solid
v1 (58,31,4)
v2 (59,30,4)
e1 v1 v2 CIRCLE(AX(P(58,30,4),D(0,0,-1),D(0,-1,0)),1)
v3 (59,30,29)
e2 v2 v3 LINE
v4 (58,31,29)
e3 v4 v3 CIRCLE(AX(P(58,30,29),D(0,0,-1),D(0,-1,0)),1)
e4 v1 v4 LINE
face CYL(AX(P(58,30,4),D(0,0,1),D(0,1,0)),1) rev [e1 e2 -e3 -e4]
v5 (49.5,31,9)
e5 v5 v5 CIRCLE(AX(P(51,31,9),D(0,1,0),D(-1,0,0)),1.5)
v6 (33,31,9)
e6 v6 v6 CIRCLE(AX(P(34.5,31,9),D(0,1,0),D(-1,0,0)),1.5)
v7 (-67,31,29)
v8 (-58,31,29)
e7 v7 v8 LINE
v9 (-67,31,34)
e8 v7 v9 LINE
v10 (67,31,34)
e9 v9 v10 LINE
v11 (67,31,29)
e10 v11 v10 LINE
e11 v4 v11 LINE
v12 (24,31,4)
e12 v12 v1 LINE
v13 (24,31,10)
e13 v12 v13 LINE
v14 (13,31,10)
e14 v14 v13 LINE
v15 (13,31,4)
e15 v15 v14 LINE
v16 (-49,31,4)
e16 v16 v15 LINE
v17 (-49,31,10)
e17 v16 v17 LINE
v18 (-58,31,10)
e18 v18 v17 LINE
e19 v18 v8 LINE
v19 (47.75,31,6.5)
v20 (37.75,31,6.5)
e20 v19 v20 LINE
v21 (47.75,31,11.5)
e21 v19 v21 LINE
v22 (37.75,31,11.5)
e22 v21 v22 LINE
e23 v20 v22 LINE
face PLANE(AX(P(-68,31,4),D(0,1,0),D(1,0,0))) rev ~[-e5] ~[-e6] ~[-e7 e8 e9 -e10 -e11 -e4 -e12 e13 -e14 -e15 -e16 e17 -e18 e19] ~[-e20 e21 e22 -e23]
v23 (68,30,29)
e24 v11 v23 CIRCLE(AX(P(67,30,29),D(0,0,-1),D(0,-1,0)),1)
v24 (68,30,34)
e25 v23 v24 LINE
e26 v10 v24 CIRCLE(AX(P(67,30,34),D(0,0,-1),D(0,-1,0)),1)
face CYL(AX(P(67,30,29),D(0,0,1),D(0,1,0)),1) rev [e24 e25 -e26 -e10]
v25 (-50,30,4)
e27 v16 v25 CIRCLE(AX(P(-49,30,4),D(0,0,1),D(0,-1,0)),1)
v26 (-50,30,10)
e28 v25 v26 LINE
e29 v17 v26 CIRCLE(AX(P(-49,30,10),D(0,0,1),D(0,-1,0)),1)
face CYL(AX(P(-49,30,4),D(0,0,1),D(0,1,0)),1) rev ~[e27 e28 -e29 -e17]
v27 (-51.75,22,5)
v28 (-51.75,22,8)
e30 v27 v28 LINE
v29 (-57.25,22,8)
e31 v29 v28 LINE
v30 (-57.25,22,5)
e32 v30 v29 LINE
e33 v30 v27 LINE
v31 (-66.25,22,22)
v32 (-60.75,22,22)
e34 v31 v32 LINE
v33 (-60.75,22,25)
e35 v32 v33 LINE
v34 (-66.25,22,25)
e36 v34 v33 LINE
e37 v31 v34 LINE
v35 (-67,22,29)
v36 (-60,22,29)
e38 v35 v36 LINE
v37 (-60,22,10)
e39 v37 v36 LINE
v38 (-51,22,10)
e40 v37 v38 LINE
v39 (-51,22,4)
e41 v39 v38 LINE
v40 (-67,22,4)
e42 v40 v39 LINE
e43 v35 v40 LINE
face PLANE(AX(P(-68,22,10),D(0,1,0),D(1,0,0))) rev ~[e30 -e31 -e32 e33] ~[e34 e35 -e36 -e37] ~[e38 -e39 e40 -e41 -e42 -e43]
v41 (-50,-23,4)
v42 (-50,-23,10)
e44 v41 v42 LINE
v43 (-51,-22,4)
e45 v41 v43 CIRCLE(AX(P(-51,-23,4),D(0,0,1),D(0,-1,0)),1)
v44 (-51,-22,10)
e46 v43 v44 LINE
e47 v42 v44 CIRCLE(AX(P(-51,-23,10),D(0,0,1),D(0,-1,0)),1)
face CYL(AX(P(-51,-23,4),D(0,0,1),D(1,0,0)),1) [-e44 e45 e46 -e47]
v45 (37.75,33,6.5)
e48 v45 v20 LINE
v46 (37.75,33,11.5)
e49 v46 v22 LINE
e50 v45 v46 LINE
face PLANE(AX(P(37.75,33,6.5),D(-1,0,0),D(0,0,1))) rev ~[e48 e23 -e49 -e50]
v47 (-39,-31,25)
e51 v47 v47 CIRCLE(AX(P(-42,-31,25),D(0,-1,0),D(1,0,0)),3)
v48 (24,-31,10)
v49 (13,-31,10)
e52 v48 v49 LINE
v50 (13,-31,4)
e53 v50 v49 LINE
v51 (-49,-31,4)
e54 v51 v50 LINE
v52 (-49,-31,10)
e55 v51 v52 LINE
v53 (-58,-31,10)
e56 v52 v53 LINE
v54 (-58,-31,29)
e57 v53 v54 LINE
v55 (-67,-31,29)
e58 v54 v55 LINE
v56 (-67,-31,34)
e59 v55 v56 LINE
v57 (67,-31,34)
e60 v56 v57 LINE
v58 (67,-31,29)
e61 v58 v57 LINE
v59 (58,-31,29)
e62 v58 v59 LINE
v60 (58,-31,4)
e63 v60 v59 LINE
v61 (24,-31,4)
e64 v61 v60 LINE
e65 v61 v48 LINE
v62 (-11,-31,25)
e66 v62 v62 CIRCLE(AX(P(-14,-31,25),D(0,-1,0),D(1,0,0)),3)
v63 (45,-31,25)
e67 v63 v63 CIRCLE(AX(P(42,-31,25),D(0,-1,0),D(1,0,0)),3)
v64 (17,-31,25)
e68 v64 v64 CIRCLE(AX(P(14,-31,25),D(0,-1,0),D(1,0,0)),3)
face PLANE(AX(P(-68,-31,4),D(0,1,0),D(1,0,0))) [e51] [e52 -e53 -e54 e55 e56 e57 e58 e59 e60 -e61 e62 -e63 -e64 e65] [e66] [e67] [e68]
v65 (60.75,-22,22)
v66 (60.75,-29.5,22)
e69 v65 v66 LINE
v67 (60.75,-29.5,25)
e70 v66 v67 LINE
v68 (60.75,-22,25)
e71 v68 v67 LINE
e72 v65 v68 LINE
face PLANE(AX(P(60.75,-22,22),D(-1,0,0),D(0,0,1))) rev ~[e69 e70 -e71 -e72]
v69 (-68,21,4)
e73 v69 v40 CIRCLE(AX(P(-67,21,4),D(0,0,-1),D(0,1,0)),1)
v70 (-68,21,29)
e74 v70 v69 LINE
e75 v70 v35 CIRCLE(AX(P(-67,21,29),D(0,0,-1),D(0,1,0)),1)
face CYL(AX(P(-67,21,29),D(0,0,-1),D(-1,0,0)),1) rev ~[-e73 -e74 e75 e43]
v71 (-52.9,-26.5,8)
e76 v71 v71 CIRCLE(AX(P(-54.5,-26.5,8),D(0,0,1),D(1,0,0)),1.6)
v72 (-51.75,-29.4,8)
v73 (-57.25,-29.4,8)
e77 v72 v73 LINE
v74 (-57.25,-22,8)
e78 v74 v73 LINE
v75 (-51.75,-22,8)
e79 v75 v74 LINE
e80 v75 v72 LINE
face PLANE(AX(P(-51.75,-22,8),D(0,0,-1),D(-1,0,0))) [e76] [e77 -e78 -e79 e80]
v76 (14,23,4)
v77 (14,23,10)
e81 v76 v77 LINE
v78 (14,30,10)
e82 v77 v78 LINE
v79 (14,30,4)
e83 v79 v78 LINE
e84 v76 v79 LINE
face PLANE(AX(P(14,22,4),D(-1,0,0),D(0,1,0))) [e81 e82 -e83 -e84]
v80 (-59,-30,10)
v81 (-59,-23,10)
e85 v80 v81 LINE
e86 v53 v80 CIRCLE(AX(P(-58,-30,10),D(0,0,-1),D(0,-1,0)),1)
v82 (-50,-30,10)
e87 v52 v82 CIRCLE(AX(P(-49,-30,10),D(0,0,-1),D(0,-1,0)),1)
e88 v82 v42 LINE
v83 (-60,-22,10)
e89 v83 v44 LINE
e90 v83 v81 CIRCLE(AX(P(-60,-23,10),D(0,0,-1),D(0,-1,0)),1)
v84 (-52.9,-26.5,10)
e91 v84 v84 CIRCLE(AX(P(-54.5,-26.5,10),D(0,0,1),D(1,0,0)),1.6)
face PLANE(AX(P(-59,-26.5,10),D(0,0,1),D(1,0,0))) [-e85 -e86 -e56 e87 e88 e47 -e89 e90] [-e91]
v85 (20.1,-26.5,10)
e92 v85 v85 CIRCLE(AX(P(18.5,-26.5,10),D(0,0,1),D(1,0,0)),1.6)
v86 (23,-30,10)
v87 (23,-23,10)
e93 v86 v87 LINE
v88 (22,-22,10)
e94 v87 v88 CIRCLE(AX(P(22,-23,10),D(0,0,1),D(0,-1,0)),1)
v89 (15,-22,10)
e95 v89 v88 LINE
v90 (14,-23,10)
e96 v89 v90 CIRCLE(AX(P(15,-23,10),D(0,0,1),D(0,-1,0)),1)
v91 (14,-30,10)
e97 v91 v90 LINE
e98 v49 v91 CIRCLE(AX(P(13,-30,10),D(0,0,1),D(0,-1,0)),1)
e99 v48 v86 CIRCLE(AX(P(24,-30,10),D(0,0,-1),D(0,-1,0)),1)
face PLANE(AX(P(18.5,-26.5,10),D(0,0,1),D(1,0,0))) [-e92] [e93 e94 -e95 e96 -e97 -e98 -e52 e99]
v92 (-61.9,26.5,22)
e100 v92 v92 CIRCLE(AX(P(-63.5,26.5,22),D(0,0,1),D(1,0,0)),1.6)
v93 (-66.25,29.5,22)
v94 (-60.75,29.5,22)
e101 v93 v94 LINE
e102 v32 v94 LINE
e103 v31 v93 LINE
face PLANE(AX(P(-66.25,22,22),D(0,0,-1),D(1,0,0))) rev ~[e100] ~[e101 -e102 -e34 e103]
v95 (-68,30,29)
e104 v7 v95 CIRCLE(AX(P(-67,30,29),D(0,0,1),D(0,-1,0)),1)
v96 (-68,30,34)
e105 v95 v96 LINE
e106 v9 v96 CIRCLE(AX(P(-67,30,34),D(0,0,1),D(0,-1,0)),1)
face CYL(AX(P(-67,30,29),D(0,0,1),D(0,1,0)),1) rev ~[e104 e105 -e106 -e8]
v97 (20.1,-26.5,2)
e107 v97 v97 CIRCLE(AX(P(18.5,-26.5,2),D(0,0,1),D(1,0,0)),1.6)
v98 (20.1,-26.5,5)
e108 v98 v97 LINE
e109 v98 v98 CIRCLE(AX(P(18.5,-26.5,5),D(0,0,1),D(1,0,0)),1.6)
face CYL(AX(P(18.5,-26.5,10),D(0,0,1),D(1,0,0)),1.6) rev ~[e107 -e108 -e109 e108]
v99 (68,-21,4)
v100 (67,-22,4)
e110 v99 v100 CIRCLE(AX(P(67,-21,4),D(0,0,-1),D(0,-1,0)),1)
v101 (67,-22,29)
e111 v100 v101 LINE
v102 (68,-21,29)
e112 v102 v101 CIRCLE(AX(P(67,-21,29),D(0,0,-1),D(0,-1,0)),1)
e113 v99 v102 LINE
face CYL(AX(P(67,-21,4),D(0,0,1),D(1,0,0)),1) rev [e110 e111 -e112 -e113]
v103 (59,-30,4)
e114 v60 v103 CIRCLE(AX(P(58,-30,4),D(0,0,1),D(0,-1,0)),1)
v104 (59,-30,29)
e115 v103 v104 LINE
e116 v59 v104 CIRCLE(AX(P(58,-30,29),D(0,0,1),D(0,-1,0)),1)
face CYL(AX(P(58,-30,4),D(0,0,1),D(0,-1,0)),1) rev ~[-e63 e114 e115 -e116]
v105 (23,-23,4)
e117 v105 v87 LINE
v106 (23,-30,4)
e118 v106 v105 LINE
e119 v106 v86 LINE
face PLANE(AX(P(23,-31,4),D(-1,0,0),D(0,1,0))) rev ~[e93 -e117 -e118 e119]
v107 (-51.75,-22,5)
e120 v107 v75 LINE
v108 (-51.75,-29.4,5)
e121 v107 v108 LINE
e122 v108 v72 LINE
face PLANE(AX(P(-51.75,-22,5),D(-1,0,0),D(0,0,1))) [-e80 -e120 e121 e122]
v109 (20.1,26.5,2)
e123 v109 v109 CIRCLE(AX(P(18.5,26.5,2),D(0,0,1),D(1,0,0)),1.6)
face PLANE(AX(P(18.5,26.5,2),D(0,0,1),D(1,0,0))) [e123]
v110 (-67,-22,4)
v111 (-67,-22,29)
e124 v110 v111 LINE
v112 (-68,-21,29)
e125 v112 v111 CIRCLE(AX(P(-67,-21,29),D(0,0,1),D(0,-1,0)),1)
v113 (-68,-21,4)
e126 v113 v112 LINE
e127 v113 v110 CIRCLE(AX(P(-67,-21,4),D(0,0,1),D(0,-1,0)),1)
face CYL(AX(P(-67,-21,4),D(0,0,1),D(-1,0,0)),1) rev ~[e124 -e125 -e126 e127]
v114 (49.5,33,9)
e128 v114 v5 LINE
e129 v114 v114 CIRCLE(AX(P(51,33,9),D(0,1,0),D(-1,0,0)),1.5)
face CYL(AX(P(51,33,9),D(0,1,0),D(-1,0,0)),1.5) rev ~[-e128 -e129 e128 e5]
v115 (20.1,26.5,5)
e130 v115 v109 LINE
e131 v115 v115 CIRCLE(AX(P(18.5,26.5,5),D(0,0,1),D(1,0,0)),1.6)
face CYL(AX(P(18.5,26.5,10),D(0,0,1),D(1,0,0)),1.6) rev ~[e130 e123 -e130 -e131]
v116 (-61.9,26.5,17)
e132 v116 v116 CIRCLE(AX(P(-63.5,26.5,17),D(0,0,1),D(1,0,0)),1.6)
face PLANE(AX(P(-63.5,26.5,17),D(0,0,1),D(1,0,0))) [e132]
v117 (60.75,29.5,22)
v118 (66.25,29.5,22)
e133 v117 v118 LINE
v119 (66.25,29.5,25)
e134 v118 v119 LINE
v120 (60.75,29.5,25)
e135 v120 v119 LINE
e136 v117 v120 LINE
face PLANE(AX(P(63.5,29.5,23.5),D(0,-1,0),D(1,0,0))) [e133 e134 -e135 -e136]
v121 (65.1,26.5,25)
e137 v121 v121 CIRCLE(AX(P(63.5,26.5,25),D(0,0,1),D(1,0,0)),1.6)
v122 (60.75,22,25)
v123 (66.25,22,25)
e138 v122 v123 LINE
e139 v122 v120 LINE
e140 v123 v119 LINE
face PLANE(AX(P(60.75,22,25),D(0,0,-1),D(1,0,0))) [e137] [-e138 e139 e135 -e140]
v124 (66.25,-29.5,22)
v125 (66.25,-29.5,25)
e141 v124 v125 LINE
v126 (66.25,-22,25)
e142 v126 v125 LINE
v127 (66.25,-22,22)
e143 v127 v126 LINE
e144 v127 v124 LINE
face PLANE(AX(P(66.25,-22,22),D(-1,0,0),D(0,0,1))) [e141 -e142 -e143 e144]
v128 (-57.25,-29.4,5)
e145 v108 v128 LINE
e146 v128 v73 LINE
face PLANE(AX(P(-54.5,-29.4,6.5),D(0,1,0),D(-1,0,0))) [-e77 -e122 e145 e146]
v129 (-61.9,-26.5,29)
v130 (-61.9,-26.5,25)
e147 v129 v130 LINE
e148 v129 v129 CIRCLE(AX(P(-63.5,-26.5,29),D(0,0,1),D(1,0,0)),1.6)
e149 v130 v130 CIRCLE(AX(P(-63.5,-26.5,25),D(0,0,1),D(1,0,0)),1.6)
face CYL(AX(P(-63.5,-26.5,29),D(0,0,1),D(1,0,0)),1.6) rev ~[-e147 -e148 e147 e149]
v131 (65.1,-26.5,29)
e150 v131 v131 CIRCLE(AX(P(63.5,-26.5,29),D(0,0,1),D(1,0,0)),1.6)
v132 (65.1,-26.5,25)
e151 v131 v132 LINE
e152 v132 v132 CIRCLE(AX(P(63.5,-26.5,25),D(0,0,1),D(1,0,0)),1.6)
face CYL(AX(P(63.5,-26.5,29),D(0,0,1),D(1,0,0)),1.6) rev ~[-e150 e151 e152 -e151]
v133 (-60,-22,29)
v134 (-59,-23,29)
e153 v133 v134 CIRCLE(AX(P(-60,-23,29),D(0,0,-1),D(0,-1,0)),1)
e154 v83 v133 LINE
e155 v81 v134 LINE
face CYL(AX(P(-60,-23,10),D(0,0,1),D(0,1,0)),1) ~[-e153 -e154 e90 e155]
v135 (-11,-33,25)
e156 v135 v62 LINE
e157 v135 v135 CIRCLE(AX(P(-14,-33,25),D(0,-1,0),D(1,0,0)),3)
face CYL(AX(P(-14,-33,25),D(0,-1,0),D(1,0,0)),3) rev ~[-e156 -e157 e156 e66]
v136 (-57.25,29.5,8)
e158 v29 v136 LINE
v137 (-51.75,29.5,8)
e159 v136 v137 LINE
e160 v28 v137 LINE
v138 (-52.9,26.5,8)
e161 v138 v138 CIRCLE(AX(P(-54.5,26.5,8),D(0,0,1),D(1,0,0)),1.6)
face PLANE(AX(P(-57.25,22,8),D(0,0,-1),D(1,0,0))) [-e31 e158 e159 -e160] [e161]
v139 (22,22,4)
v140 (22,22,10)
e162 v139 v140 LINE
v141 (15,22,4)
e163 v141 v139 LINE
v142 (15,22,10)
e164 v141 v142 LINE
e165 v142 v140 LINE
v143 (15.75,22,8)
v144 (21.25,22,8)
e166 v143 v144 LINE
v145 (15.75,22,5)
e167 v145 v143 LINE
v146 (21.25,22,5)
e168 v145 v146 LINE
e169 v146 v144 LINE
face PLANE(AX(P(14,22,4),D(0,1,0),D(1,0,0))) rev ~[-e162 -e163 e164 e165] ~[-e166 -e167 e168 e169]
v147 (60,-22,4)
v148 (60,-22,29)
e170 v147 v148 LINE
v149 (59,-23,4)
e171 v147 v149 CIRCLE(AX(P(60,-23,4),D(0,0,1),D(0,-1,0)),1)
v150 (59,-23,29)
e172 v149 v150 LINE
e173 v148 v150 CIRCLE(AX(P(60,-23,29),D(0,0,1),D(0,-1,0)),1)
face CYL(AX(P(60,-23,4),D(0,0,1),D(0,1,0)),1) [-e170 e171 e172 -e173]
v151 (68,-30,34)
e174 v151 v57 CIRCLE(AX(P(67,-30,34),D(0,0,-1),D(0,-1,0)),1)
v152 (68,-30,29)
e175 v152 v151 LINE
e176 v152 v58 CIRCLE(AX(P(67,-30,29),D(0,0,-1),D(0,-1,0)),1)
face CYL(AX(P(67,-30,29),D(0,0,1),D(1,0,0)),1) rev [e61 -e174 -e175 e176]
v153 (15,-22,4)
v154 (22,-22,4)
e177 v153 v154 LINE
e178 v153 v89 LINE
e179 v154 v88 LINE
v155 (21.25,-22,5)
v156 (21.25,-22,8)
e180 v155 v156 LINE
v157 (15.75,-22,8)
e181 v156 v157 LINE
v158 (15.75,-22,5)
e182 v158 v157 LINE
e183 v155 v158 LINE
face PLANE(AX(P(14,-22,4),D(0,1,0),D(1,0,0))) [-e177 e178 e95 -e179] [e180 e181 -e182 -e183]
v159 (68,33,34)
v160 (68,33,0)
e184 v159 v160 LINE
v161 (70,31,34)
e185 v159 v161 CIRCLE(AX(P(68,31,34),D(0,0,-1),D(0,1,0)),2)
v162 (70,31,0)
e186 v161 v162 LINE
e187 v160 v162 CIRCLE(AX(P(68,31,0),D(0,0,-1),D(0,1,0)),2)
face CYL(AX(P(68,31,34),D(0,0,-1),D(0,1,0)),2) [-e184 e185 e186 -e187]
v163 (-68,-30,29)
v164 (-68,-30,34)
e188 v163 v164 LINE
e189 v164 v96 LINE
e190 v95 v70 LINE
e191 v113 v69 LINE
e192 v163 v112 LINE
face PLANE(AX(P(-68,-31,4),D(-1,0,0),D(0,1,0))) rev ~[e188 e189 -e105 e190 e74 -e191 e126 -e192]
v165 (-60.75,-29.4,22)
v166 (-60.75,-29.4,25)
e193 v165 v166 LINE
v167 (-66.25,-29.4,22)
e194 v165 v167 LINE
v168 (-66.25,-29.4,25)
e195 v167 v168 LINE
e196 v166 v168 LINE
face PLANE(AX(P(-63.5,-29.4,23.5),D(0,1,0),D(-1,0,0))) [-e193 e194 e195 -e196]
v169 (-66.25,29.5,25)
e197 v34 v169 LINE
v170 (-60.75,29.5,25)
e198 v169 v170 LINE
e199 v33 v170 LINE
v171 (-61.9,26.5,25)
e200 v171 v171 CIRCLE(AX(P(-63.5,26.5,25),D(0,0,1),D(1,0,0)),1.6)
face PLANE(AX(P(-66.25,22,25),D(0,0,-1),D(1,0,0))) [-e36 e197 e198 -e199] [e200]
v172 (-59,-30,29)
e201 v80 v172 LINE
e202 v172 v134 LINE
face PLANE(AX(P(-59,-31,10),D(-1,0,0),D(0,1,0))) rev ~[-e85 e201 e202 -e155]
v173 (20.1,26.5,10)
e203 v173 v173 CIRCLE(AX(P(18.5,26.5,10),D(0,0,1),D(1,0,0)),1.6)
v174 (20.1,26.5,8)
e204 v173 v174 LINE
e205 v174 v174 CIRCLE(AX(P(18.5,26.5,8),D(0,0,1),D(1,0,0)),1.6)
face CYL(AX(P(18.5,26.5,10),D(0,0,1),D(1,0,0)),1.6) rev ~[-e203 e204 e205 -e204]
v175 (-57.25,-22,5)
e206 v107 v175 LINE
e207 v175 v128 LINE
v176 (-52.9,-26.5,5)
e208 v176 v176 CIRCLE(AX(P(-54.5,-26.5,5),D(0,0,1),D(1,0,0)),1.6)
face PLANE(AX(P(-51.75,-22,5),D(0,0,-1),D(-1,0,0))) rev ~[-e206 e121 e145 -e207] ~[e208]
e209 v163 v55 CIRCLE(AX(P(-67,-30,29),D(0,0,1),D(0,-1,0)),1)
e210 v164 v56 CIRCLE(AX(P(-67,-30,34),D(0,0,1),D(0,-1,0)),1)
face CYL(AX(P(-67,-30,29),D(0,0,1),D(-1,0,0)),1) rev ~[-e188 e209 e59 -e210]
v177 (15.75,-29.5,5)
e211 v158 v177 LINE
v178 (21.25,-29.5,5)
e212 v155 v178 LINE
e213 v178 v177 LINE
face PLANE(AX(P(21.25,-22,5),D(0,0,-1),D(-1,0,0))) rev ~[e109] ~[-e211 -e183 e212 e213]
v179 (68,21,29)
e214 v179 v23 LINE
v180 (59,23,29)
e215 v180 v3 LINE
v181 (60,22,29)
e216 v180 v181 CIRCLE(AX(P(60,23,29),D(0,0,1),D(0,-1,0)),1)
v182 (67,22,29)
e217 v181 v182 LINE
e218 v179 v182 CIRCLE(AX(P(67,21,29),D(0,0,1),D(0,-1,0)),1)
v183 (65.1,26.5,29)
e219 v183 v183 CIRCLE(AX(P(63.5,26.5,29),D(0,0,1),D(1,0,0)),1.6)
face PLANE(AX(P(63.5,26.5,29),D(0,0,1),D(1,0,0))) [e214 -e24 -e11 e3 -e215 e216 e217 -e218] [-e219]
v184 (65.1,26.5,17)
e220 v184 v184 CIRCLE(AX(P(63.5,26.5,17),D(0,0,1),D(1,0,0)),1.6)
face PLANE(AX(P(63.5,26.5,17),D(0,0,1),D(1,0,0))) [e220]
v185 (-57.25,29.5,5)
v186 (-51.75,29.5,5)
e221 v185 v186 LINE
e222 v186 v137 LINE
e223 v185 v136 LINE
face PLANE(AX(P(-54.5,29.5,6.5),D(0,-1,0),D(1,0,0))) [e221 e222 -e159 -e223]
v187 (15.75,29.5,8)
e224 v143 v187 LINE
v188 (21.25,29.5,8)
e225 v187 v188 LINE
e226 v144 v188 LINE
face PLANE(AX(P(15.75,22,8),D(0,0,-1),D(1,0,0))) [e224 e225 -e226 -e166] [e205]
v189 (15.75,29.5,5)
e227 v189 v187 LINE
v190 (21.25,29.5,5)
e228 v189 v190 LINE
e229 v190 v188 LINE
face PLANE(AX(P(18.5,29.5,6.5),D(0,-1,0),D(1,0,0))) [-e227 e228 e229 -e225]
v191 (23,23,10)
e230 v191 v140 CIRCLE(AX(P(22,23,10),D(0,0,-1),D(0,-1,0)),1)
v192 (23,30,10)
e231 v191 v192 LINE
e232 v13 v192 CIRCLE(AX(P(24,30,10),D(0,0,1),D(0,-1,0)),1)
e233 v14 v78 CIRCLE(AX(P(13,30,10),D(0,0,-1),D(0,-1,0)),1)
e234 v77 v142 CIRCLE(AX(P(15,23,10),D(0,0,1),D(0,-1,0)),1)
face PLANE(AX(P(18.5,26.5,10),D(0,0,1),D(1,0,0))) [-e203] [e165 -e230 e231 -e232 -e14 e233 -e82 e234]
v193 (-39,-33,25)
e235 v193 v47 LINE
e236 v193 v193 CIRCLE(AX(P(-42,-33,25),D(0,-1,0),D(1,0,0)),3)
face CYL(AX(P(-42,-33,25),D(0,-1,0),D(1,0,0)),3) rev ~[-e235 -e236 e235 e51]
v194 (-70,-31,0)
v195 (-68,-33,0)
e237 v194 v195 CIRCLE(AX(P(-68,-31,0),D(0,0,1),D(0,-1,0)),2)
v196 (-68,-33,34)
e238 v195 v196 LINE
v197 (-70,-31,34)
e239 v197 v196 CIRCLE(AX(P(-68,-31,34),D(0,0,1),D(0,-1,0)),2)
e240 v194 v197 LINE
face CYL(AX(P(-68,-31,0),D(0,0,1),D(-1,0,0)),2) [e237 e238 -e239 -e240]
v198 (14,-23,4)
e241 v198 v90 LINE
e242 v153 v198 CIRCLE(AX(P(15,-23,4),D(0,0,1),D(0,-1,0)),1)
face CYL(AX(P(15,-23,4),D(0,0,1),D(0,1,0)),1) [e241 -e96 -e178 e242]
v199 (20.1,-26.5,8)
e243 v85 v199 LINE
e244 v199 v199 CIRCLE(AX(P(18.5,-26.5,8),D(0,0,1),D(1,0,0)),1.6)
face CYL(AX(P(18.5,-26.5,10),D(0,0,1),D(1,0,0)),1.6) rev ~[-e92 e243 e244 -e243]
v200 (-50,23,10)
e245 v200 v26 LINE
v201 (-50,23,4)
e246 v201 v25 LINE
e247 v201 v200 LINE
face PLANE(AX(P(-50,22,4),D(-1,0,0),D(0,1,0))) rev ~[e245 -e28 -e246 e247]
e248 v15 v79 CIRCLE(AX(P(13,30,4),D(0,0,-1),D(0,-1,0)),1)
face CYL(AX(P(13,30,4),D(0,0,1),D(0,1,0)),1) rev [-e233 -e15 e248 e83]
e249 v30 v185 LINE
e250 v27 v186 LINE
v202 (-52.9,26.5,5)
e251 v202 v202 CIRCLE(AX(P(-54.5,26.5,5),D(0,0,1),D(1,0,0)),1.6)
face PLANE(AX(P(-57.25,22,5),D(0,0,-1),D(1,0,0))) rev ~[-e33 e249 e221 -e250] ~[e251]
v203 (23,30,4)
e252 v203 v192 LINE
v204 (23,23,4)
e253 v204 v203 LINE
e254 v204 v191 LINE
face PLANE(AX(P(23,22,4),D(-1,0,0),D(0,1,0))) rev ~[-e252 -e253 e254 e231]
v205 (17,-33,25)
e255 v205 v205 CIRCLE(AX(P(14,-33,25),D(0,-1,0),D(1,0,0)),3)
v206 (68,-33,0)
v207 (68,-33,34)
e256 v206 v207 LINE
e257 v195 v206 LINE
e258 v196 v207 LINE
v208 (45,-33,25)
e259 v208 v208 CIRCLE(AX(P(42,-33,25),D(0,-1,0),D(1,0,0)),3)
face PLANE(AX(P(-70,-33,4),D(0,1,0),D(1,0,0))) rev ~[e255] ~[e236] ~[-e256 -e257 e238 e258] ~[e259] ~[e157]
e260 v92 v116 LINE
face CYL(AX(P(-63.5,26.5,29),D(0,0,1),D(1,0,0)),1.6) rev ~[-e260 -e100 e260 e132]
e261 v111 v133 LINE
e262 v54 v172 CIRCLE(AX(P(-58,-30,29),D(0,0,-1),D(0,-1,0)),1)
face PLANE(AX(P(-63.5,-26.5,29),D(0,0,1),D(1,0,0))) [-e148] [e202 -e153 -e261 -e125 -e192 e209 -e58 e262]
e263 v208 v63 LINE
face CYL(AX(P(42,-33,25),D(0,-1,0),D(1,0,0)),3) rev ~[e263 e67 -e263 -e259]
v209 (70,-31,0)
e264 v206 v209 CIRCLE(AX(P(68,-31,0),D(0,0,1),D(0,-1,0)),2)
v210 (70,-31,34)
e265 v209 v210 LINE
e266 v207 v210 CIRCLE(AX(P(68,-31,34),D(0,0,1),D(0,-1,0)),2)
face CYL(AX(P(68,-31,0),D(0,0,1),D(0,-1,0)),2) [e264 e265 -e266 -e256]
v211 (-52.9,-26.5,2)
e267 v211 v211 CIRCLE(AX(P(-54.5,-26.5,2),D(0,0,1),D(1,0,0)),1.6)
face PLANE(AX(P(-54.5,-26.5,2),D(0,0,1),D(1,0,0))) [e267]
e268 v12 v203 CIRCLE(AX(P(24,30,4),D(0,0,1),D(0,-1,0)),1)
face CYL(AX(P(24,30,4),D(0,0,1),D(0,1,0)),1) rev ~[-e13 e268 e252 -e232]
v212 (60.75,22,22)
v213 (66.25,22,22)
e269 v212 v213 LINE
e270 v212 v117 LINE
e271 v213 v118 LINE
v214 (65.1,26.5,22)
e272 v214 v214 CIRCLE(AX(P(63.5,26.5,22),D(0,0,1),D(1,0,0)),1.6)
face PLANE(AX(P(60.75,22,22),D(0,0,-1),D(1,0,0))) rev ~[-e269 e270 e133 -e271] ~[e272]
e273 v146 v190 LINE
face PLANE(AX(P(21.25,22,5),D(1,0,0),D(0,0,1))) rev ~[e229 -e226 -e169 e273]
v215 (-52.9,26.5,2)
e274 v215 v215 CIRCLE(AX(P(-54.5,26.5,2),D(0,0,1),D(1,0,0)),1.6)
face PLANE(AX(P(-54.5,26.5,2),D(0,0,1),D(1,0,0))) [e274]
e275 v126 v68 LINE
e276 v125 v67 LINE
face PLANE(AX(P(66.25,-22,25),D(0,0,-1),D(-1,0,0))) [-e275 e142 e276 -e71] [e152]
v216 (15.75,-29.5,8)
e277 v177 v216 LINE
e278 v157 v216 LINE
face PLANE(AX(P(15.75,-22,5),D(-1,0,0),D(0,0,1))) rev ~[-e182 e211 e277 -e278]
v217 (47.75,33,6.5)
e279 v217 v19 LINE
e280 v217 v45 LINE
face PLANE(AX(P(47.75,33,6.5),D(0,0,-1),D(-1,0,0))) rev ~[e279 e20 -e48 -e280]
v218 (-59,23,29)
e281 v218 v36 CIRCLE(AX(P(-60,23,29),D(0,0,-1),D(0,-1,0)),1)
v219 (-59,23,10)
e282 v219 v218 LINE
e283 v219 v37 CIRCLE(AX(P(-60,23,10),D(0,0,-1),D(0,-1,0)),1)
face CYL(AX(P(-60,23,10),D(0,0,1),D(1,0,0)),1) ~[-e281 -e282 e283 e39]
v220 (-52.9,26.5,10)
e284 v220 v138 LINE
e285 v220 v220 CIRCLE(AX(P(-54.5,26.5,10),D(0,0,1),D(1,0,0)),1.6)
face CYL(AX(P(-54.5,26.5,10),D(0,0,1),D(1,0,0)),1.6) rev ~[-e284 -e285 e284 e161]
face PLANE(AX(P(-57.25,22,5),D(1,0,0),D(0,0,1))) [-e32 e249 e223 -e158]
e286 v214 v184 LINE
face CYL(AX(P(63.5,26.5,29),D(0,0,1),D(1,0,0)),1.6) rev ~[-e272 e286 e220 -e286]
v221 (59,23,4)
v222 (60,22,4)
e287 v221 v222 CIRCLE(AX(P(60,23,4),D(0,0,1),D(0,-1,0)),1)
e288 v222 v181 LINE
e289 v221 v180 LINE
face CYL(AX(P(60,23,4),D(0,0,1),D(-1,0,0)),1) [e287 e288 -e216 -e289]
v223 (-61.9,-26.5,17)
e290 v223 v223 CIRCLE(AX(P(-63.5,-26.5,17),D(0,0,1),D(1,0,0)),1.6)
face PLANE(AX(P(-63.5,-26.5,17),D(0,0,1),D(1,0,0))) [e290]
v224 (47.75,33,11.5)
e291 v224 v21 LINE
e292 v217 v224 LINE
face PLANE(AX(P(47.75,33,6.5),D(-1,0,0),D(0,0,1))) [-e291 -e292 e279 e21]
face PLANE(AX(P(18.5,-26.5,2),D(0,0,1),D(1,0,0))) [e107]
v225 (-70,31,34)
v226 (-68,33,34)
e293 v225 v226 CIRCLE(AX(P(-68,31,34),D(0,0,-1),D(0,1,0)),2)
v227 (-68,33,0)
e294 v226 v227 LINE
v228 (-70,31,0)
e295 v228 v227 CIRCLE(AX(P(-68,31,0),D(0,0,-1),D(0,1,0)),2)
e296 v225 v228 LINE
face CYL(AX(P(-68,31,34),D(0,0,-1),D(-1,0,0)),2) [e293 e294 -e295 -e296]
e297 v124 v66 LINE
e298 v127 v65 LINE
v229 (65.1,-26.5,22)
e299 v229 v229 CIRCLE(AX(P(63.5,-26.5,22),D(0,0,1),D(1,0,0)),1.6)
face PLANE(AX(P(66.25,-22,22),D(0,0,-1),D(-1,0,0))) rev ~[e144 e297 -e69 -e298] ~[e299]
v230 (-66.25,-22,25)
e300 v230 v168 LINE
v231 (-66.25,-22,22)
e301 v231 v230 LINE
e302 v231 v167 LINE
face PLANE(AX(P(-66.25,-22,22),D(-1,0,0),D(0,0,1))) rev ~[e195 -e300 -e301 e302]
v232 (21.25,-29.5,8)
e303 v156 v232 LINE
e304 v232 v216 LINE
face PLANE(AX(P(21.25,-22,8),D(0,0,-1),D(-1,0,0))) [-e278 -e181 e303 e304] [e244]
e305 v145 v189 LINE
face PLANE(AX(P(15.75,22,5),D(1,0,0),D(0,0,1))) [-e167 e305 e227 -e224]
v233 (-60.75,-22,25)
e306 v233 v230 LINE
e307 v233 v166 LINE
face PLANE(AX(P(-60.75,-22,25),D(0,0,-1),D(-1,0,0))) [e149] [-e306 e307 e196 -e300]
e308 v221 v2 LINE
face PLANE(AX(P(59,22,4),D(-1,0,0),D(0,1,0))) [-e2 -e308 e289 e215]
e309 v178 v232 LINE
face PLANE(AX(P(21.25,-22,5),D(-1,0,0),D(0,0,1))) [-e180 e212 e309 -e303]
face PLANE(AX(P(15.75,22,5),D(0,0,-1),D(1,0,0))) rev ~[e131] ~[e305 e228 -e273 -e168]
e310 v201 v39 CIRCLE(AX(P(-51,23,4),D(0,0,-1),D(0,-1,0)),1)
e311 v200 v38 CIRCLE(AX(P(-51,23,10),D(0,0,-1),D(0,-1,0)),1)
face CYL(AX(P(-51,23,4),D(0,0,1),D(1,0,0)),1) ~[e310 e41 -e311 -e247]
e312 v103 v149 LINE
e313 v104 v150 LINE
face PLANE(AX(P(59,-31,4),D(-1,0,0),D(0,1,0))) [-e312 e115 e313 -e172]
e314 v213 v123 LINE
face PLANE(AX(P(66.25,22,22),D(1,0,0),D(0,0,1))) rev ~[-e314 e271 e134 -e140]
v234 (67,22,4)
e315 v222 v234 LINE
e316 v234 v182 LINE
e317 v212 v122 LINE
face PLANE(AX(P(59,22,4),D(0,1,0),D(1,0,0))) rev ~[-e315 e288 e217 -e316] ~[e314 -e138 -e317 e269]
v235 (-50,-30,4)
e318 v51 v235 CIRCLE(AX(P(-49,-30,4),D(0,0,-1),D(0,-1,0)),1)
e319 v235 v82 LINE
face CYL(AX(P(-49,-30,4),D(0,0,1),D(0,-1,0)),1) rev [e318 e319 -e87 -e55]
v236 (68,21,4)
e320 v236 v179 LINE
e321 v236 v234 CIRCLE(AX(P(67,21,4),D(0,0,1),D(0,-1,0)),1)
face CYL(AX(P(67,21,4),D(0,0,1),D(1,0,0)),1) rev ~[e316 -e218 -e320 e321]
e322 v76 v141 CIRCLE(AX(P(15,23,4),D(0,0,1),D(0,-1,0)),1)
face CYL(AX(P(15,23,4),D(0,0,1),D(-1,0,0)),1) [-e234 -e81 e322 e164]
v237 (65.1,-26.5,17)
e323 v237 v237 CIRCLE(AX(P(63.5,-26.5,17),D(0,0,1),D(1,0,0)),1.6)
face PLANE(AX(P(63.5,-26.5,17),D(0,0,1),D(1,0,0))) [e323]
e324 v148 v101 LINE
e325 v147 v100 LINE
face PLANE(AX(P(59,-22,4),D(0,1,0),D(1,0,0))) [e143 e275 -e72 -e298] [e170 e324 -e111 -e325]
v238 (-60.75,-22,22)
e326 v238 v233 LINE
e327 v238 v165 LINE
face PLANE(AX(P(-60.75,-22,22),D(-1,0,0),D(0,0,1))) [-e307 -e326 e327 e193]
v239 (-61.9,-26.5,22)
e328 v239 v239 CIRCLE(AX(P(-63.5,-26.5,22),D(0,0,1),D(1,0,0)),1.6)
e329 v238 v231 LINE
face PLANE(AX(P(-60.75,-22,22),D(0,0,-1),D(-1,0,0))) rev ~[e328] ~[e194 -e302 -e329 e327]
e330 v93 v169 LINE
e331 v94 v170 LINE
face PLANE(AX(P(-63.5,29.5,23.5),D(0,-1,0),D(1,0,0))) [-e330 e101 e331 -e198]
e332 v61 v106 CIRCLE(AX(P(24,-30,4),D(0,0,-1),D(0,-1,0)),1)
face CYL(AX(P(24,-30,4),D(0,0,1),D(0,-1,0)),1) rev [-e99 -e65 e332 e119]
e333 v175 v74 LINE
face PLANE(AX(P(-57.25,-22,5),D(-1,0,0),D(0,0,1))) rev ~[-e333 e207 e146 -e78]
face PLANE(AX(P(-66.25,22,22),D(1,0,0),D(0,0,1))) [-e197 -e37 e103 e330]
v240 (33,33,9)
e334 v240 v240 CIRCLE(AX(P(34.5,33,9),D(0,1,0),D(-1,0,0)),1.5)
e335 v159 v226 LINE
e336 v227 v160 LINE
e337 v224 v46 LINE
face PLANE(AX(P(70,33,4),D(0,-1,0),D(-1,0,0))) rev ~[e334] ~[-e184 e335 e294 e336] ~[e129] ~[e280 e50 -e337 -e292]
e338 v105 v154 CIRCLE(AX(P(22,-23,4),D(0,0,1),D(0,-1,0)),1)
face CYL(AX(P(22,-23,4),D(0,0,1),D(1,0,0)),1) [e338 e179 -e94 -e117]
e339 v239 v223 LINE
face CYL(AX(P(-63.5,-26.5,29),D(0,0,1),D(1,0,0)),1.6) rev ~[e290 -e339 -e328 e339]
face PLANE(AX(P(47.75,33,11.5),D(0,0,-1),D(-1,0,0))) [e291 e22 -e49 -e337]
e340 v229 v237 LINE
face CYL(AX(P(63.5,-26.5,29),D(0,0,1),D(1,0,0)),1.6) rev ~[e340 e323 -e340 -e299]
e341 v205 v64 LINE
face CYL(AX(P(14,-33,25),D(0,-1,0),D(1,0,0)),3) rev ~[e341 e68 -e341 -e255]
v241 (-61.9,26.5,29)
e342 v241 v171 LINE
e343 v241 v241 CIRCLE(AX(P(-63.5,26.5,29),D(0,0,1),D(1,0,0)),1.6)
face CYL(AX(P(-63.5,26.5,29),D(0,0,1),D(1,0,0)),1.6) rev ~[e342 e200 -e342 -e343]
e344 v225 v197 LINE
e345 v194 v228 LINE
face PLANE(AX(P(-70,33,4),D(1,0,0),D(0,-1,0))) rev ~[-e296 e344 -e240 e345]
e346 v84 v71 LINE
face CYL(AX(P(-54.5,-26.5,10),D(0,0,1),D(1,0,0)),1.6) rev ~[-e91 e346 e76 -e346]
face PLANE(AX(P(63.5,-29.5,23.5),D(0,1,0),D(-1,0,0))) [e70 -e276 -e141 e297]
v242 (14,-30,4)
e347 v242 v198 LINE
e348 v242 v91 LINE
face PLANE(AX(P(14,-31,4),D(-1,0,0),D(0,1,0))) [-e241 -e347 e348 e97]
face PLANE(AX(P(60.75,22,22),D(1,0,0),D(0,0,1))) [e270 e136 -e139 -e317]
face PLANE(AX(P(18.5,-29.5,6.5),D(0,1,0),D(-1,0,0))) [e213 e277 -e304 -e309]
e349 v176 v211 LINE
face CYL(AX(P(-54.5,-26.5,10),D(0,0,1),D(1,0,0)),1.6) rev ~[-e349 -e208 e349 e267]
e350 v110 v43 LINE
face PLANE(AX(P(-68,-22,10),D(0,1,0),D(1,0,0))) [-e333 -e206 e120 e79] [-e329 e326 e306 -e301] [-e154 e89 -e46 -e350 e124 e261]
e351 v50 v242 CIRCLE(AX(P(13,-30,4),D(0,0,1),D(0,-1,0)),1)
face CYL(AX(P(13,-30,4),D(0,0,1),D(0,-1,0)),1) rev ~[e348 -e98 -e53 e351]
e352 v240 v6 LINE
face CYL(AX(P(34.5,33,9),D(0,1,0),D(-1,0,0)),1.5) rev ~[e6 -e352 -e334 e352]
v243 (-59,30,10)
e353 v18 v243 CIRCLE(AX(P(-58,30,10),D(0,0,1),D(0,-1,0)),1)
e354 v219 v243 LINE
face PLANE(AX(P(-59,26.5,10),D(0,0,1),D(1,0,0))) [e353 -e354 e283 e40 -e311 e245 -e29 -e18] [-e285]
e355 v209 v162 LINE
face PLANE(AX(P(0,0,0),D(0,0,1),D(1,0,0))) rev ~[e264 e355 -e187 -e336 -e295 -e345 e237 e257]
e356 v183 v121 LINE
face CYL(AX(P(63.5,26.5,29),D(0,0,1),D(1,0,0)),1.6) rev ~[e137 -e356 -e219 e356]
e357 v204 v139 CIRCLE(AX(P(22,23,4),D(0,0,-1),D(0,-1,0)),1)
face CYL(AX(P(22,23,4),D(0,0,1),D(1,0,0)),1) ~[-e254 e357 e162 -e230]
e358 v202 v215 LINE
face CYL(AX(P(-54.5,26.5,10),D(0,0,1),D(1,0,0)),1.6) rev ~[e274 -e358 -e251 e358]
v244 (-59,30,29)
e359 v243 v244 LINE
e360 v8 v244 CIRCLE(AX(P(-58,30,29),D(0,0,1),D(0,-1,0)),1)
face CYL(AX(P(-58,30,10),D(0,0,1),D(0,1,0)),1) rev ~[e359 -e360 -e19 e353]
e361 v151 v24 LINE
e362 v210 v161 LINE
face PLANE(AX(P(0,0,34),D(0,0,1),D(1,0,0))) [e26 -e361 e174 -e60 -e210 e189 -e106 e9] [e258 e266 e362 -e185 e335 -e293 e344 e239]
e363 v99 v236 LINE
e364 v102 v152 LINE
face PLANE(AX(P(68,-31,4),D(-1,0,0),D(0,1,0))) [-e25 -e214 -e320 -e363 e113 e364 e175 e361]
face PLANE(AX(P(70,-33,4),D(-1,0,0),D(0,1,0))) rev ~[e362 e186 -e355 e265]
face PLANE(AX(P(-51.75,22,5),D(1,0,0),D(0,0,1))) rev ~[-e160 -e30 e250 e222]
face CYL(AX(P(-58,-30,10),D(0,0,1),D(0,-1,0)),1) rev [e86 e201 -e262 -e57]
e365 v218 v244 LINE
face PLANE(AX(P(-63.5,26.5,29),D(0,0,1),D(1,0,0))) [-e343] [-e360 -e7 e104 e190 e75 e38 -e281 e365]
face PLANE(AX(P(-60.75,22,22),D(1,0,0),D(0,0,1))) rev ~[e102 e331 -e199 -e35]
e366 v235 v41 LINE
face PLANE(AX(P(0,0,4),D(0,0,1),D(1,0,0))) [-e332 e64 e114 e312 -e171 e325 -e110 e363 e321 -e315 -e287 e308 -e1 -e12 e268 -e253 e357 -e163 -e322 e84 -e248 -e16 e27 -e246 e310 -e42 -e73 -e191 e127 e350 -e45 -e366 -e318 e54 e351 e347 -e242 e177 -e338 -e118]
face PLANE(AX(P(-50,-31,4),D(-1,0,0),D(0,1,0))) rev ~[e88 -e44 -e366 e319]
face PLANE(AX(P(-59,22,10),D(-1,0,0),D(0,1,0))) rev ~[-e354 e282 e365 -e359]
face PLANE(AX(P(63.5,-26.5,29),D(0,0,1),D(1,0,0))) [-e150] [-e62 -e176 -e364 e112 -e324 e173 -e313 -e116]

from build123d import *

# Parameters (mm, degrees)
SKETCH002_W     = 140
SKETCH002_H     = 66
PAD001_DEPTH    = 4
SKETCH003_W     = 136
SKETCH003_H     = 62
PAD002_DEPTH    = 30
SKETCH004_R     = 3
POCKET001_DEPTH = 5
FILLET_R        = 2
FILLET001_R     = 2
SKETCH005_R     = 1.5
SKETCH005_W     = 10
SKETCH005_H     = 5
POCKET002_DEPTH = 5
SKETCH006_W     = 18
SKETCH006_H     = 9
SKETCH006_W_2   = 9
PAD003_DEPTH    = 6
SKETCH007_W     = 9
SKETCH007_H     = 9
PAD004_DEPTH    = 19
SKETCH008_W     = 9
SKETCH008_H     = 9
PAD005_DEPTH    = 19
SKETCH009_W     = 9
SKETCH009_H     = 9
PAD006_DEPTH    = 25
FILLET004_R     = 1
SKETCH014_W     = 5.5
SKETCH014_H     = 3
POCKET005_DEPTH = 7.5
SKETCH015_W     = 5.5
SKETCH015_H     = 3
POCKET006_DEPTH = 7.5
SKETCH016_W     = 5.5
SKETCH016_H     = 3
POCKET007_DEPTH = 7.4
SKETCH017_W     = 5.5
SKETCH017_H     = 3
POCKET008_DEPTH = 7.5
SKETCH018_W     = 5.5
SKETCH018_H     = 3
POCKET009_DEPTH = 7.5
SKETCH019_W     = 5.5
SKETCH019_H     = 3
POCKET010_DEPTH = 7.5
SKETCH020_R     = 1.6
POCKET011_DEPTH = 12
SKETCH021_R     = 1.6
POCKET012_DEPTH = 12
SKETCH022_R     = 1.6
POCKET013_DEPTH = 12
SKETCH023_R     = 1.6
POCKET014_DEPTH = 12
SKETCH024_R     = 1.6
POCKET015_DEPTH = 8
SKETCH025_R     = 1.6
POCKET016_DEPTH = 8
SKETCH026_R     = 1.6
POCKET017_DEPTH = 8
SKETCH027_R     = 1.6
POCKET018_DEPTH = 8
FILLET005_R     = 1


with BuildPart() as part:
    # Sketch002 → Pad001 (new body)
    with BuildSketch(Plane.XY):
        Rectangle(SKETCH002_W, SKETCH002_H)
    extrude(amount=PAD001_DEPTH)

    # Sketch003 (on Face6 of Pad001) → Pad002 (join)
    with BuildSketch(Plane.XY.offset(4)):
        Polygon((-70, 33), (-70, -33), (-68, -33), (68, -33), (70, -33), (70, 33), (68, 33), (-68, 33), align=None)
        Rectangle(SKETCH003_W, SKETCH003_H, mode=Mode.SUBTRACT)
    extrude(amount=PAD002_DEPTH)

    # Sketch004 (on Face2 of Pad002) → Pocket001 (cut)
    with BuildSketch(Plane.XZ.offset(33)):
        with Locations((42, 25)):
            Circle(SKETCH004_R)
        with Locations((-42, 25)):
            Circle(SKETCH004_R)
        with Locations((-14, 25)):
            Circle(SKETCH004_R)
        with Locations((14, 25)):
            Circle(SKETCH004_R)
    extrude(amount=-POCKET001_DEPTH, mode=Mode.SUBTRACT)

    # Fillet
    fillet_edges = [part.edges().sort_by_distance(p)[0] for p in [
        (-70, -33, 17),
        (70, -33, 17),
    ]]
    fillet(fillet_edges, radius=FILLET_R)

    # Fillet001
    fillet001_edges = [part.edges().sort_by_distance(p)[0] for p in [
        (70, 33, 17),
        (-70, 33, 17),
    ]]
    fillet(fillet001_edges, radius=FILLET001_R)

    # Sketch005 (on Face5 of Fillet001) → Pocket002 (cut)
    with BuildSketch(Plane(origin=(0, 33, 0), x_dir=(-1, 0, 0), z_dir=(0, 1, 0))):
        with Locations((-34.5, 9)):
            Circle(SKETCH005_R)
        with Locations((-51, 9)):
            Circle(SKETCH005_R)
        with Locations((-42.75, 9)):
            Rectangle(SKETCH005_W, SKETCH005_H)
    extrude(amount=-POCKET002_DEPTH, mode=Mode.SUBTRACT)

    # Sketch006 (on Face25 of Pocket002) → Pad003 (join)
    with BuildSketch(Plane.XY.offset(4)):
        with Locations((-59, 26.5)):
            Rectangle(SKETCH006_W, SKETCH006_H)
        with Locations((-59, -26.5)):
            Rectangle(SKETCH006_W, SKETCH006_H)
        with Locations((18.5, 26.5)):
            Rectangle(SKETCH006_W_2, SKETCH006_H)
        with Locations((18.5, -26.5)):
            Rectangle(SKETCH006_W_2, SKETCH006_H)
    extrude(amount=PAD003_DEPTH)

    # Sketch007 (on Face31 of Pad003) → Pad004 (join)
    with BuildSketch(Plane.XY.offset(10)):
        with Locations((-63.5, 26.5)):
            Rectangle(SKETCH007_W, SKETCH007_H)
    extrude(amount=PAD004_DEPTH)

    # Sketch008 (on Face30 of Pad004) → Pad005 (join)
    with BuildSketch(Plane.XY.offset(10)):
        with Locations((-63.5, -26.5)):
            Rectangle(SKETCH008_W, SKETCH008_H)
    extrude(amount=PAD005_DEPTH)

    # Sketch009 (on Face25 of Pad005) → Pad006 (join)
    with BuildSketch(Plane.XY.offset(4)):
        with Locations((63.5, 26.5)):
            Rectangle(SKETCH009_W, SKETCH009_H)
        with Locations((63.5, -26.5)):
            Rectangle(SKETCH009_W, SKETCH009_H)
    extrude(amount=PAD006_DEPTH)

    # Fillet004
    fillet004_edges = [part.edges().sort_by_distance(p)[0] for p in [
        (-68, 31, 31.5),
        (68, 31, 31.5),
        (68, -31, 31.5),
        (-68, -31, 31.5),
    ]]
    fillet(fillet004_edges, radius=FILLET004_R)

    # Sketch014 (on Face36 of Fillet004) → Pocket005 (cut)
    with BuildSketch(Plane.XZ.offset(-22)):
        with Locations((-63.5, 23.5)):
            Rectangle(SKETCH014_W, SKETCH014_H)
        with Locations((-54.5, 6.5)):
            Rectangle(SKETCH014_W, SKETCH014_H)
    extrude(amount=-POCKET005_DEPTH, mode=Mode.SUBTRACT)

    # Sketch015 (on Face33 of Pocket005) → Pocket006 (cut)
    with BuildSketch(Plane.XZ.offset(-22)):
        with Locations((63.5, 23.5)):
            Rectangle(SKETCH015_W, SKETCH015_H)
    extrude(amount=-POCKET006_DEPTH, mode=Mode.SUBTRACT)

    # Sketch016 (on Face35 of Pocket006) → Pocket007 (cut)
    with BuildSketch(Plane(origin=(0, -22, 0), x_dir=(-1, 0, 0), z_dir=(0, 1, 0))):
        with Locations((63.5, 23.5)):
            Rectangle(SKETCH016_W, SKETCH016_H)
        with Locations((54.5, 6.5)):
            Rectangle(SKETCH016_W, SKETCH016_H)
    extrude(amount=-POCKET007_DEPTH, mode=Mode.SUBTRACT)

    # Sketch017 (on Face34 of Pocket007) → Pocket008 (cut)
    with BuildSketch(Plane(origin=(0, -22, 0), x_dir=(-1, 0, 0), z_dir=(0, 1, 0))):
        with Locations((-63.5, 23.5)):
            Rectangle(SKETCH017_W, SKETCH017_H)
    extrude(amount=-POCKET008_DEPTH, mode=Mode.SUBTRACT)

    # Sketch018 (on Face53 of Pocket008) → Pocket009 (cut)
    with BuildSketch(Plane.XZ.offset(-22)):
        with Locations((18.5, 6.5)):
            Rectangle(SKETCH018_W, SKETCH018_H)
    extrude(amount=-POCKET009_DEPTH, mode=Mode.SUBTRACT)

    # Sketch019 (on Face52 of Pocket009) → Pocket010 (cut)
    with BuildSketch(Plane(origin=(0, -22, 0), x_dir=(-1, 0, 0), z_dir=(0, 1, 0))):
        with Locations((-18.5, 6.5)):
            Rectangle(SKETCH019_W, SKETCH019_H)
    extrude(amount=-POCKET010_DEPTH, mode=Mode.SUBTRACT)

    # Sketch020 (on Face37 of Pocket010) → Pocket011 (cut)
    with BuildSketch(Plane.XY.offset(29)):
        with Locations((-63.5, 26.5)):
            Circle(SKETCH020_R)
    extrude(amount=-POCKET011_DEPTH, mode=Mode.SUBTRACT)

    # Sketch021 (on Face18 of Pocket011) → Pocket012 (cut)
    with BuildSketch(Plane.XY.offset(29)):
        with Locations((-63.5, -26.5)):
            Circle(SKETCH021_R)
    extrude(amount=-POCKET012_DEPTH, mode=Mode.SUBTRACT)

    # Sketch022 (on Face32 of Pocket012) → Pocket013 (cut)
    with BuildSketch(Plane.XY.offset(29)):
        with Locations((63.5, 26.5)):
            Circle(SKETCH022_R)
    extrude(amount=-POCKET013_DEPTH, mode=Mode.SUBTRACT)

    # Sketch023 (on Face22 of Pocket013) → Pocket014 (cut)
    with BuildSketch(Plane.XY.offset(29)):
        with Locations((63.5, -26.5)):
            Circle(SKETCH023_R)
    extrude(amount=-POCKET014_DEPTH, mode=Mode.SUBTRACT)

    # Sketch024 (on Face43 of Pocket014) → Pocket015 (cut)
    with BuildSketch(Plane.XY.offset(10)):
        with Locations((-54.5, 26.5)):
            Circle(SKETCH024_R)
    extrude(amount=-POCKET015_DEPTH, mode=Mode.SUBTRACT)

    # Sketch025 (on Face40 of Pocket015) → Pocket016 (cut)
    with BuildSketch(Plane.XY.offset(10)):
        with Locations((18.5, 26.5)):
            Circle(SKETCH025_R)
    extrude(amount=-POCKET016_DEPTH, mode=Mode.SUBTRACT)

    # Sketch026 (on Face26 of Pocket016) → Pocket017 (cut)
    with BuildSketch(Plane.XY.offset(10)):
        with Locations((18.5, -26.5)):
            Circle(SKETCH026_R)
    extrude(amount=-POCKET017_DEPTH, mode=Mode.SUBTRACT)

    # Sketch027 (on Face20 of Pocket017) → Pocket018 (cut)
    with BuildSketch(Plane.XY.offset(10)):
        with Locations((-54.5, -26.5)):
            Circle(SKETCH027_R)
    extrude(amount=-POCKET018_DEPTH, mode=Mode.SUBTRACT)

    # Fillet005
    fillet005_edges = [part.edges().sort_by_distance(p)[0] for p in [
        (68, 22, 16.5),
        (59, 22, 16.5),
        (59, 31, 16.5),
        (23, 31, 7),
        (23, 22, 7),
        (14, 22, 7),
        (14, 31, 7),
        (-68, 22, 16.5),
        (-59, 22, 19.5),
        (-59, 31, 19.5),
        (-50, 22, 7),
        (-50, 31, 7),
        (68, -22, 16.5),
        (59, -22, 16.5),
        (59, -31, 16.5),
        (23, -31, 7),
        (23, -22, 7),
        (14, -22, 7),
        (14, -31, 7),
        (-50, -31, 7),
        (-50, -22, 7),
        (-59, -22, 19.5),
        (-68, -22, 16.5),
        (-59, -31, 19.5),
    ]]
    fillet(fillet005_edges, radius=FILLET005_R)


solid = part.part
